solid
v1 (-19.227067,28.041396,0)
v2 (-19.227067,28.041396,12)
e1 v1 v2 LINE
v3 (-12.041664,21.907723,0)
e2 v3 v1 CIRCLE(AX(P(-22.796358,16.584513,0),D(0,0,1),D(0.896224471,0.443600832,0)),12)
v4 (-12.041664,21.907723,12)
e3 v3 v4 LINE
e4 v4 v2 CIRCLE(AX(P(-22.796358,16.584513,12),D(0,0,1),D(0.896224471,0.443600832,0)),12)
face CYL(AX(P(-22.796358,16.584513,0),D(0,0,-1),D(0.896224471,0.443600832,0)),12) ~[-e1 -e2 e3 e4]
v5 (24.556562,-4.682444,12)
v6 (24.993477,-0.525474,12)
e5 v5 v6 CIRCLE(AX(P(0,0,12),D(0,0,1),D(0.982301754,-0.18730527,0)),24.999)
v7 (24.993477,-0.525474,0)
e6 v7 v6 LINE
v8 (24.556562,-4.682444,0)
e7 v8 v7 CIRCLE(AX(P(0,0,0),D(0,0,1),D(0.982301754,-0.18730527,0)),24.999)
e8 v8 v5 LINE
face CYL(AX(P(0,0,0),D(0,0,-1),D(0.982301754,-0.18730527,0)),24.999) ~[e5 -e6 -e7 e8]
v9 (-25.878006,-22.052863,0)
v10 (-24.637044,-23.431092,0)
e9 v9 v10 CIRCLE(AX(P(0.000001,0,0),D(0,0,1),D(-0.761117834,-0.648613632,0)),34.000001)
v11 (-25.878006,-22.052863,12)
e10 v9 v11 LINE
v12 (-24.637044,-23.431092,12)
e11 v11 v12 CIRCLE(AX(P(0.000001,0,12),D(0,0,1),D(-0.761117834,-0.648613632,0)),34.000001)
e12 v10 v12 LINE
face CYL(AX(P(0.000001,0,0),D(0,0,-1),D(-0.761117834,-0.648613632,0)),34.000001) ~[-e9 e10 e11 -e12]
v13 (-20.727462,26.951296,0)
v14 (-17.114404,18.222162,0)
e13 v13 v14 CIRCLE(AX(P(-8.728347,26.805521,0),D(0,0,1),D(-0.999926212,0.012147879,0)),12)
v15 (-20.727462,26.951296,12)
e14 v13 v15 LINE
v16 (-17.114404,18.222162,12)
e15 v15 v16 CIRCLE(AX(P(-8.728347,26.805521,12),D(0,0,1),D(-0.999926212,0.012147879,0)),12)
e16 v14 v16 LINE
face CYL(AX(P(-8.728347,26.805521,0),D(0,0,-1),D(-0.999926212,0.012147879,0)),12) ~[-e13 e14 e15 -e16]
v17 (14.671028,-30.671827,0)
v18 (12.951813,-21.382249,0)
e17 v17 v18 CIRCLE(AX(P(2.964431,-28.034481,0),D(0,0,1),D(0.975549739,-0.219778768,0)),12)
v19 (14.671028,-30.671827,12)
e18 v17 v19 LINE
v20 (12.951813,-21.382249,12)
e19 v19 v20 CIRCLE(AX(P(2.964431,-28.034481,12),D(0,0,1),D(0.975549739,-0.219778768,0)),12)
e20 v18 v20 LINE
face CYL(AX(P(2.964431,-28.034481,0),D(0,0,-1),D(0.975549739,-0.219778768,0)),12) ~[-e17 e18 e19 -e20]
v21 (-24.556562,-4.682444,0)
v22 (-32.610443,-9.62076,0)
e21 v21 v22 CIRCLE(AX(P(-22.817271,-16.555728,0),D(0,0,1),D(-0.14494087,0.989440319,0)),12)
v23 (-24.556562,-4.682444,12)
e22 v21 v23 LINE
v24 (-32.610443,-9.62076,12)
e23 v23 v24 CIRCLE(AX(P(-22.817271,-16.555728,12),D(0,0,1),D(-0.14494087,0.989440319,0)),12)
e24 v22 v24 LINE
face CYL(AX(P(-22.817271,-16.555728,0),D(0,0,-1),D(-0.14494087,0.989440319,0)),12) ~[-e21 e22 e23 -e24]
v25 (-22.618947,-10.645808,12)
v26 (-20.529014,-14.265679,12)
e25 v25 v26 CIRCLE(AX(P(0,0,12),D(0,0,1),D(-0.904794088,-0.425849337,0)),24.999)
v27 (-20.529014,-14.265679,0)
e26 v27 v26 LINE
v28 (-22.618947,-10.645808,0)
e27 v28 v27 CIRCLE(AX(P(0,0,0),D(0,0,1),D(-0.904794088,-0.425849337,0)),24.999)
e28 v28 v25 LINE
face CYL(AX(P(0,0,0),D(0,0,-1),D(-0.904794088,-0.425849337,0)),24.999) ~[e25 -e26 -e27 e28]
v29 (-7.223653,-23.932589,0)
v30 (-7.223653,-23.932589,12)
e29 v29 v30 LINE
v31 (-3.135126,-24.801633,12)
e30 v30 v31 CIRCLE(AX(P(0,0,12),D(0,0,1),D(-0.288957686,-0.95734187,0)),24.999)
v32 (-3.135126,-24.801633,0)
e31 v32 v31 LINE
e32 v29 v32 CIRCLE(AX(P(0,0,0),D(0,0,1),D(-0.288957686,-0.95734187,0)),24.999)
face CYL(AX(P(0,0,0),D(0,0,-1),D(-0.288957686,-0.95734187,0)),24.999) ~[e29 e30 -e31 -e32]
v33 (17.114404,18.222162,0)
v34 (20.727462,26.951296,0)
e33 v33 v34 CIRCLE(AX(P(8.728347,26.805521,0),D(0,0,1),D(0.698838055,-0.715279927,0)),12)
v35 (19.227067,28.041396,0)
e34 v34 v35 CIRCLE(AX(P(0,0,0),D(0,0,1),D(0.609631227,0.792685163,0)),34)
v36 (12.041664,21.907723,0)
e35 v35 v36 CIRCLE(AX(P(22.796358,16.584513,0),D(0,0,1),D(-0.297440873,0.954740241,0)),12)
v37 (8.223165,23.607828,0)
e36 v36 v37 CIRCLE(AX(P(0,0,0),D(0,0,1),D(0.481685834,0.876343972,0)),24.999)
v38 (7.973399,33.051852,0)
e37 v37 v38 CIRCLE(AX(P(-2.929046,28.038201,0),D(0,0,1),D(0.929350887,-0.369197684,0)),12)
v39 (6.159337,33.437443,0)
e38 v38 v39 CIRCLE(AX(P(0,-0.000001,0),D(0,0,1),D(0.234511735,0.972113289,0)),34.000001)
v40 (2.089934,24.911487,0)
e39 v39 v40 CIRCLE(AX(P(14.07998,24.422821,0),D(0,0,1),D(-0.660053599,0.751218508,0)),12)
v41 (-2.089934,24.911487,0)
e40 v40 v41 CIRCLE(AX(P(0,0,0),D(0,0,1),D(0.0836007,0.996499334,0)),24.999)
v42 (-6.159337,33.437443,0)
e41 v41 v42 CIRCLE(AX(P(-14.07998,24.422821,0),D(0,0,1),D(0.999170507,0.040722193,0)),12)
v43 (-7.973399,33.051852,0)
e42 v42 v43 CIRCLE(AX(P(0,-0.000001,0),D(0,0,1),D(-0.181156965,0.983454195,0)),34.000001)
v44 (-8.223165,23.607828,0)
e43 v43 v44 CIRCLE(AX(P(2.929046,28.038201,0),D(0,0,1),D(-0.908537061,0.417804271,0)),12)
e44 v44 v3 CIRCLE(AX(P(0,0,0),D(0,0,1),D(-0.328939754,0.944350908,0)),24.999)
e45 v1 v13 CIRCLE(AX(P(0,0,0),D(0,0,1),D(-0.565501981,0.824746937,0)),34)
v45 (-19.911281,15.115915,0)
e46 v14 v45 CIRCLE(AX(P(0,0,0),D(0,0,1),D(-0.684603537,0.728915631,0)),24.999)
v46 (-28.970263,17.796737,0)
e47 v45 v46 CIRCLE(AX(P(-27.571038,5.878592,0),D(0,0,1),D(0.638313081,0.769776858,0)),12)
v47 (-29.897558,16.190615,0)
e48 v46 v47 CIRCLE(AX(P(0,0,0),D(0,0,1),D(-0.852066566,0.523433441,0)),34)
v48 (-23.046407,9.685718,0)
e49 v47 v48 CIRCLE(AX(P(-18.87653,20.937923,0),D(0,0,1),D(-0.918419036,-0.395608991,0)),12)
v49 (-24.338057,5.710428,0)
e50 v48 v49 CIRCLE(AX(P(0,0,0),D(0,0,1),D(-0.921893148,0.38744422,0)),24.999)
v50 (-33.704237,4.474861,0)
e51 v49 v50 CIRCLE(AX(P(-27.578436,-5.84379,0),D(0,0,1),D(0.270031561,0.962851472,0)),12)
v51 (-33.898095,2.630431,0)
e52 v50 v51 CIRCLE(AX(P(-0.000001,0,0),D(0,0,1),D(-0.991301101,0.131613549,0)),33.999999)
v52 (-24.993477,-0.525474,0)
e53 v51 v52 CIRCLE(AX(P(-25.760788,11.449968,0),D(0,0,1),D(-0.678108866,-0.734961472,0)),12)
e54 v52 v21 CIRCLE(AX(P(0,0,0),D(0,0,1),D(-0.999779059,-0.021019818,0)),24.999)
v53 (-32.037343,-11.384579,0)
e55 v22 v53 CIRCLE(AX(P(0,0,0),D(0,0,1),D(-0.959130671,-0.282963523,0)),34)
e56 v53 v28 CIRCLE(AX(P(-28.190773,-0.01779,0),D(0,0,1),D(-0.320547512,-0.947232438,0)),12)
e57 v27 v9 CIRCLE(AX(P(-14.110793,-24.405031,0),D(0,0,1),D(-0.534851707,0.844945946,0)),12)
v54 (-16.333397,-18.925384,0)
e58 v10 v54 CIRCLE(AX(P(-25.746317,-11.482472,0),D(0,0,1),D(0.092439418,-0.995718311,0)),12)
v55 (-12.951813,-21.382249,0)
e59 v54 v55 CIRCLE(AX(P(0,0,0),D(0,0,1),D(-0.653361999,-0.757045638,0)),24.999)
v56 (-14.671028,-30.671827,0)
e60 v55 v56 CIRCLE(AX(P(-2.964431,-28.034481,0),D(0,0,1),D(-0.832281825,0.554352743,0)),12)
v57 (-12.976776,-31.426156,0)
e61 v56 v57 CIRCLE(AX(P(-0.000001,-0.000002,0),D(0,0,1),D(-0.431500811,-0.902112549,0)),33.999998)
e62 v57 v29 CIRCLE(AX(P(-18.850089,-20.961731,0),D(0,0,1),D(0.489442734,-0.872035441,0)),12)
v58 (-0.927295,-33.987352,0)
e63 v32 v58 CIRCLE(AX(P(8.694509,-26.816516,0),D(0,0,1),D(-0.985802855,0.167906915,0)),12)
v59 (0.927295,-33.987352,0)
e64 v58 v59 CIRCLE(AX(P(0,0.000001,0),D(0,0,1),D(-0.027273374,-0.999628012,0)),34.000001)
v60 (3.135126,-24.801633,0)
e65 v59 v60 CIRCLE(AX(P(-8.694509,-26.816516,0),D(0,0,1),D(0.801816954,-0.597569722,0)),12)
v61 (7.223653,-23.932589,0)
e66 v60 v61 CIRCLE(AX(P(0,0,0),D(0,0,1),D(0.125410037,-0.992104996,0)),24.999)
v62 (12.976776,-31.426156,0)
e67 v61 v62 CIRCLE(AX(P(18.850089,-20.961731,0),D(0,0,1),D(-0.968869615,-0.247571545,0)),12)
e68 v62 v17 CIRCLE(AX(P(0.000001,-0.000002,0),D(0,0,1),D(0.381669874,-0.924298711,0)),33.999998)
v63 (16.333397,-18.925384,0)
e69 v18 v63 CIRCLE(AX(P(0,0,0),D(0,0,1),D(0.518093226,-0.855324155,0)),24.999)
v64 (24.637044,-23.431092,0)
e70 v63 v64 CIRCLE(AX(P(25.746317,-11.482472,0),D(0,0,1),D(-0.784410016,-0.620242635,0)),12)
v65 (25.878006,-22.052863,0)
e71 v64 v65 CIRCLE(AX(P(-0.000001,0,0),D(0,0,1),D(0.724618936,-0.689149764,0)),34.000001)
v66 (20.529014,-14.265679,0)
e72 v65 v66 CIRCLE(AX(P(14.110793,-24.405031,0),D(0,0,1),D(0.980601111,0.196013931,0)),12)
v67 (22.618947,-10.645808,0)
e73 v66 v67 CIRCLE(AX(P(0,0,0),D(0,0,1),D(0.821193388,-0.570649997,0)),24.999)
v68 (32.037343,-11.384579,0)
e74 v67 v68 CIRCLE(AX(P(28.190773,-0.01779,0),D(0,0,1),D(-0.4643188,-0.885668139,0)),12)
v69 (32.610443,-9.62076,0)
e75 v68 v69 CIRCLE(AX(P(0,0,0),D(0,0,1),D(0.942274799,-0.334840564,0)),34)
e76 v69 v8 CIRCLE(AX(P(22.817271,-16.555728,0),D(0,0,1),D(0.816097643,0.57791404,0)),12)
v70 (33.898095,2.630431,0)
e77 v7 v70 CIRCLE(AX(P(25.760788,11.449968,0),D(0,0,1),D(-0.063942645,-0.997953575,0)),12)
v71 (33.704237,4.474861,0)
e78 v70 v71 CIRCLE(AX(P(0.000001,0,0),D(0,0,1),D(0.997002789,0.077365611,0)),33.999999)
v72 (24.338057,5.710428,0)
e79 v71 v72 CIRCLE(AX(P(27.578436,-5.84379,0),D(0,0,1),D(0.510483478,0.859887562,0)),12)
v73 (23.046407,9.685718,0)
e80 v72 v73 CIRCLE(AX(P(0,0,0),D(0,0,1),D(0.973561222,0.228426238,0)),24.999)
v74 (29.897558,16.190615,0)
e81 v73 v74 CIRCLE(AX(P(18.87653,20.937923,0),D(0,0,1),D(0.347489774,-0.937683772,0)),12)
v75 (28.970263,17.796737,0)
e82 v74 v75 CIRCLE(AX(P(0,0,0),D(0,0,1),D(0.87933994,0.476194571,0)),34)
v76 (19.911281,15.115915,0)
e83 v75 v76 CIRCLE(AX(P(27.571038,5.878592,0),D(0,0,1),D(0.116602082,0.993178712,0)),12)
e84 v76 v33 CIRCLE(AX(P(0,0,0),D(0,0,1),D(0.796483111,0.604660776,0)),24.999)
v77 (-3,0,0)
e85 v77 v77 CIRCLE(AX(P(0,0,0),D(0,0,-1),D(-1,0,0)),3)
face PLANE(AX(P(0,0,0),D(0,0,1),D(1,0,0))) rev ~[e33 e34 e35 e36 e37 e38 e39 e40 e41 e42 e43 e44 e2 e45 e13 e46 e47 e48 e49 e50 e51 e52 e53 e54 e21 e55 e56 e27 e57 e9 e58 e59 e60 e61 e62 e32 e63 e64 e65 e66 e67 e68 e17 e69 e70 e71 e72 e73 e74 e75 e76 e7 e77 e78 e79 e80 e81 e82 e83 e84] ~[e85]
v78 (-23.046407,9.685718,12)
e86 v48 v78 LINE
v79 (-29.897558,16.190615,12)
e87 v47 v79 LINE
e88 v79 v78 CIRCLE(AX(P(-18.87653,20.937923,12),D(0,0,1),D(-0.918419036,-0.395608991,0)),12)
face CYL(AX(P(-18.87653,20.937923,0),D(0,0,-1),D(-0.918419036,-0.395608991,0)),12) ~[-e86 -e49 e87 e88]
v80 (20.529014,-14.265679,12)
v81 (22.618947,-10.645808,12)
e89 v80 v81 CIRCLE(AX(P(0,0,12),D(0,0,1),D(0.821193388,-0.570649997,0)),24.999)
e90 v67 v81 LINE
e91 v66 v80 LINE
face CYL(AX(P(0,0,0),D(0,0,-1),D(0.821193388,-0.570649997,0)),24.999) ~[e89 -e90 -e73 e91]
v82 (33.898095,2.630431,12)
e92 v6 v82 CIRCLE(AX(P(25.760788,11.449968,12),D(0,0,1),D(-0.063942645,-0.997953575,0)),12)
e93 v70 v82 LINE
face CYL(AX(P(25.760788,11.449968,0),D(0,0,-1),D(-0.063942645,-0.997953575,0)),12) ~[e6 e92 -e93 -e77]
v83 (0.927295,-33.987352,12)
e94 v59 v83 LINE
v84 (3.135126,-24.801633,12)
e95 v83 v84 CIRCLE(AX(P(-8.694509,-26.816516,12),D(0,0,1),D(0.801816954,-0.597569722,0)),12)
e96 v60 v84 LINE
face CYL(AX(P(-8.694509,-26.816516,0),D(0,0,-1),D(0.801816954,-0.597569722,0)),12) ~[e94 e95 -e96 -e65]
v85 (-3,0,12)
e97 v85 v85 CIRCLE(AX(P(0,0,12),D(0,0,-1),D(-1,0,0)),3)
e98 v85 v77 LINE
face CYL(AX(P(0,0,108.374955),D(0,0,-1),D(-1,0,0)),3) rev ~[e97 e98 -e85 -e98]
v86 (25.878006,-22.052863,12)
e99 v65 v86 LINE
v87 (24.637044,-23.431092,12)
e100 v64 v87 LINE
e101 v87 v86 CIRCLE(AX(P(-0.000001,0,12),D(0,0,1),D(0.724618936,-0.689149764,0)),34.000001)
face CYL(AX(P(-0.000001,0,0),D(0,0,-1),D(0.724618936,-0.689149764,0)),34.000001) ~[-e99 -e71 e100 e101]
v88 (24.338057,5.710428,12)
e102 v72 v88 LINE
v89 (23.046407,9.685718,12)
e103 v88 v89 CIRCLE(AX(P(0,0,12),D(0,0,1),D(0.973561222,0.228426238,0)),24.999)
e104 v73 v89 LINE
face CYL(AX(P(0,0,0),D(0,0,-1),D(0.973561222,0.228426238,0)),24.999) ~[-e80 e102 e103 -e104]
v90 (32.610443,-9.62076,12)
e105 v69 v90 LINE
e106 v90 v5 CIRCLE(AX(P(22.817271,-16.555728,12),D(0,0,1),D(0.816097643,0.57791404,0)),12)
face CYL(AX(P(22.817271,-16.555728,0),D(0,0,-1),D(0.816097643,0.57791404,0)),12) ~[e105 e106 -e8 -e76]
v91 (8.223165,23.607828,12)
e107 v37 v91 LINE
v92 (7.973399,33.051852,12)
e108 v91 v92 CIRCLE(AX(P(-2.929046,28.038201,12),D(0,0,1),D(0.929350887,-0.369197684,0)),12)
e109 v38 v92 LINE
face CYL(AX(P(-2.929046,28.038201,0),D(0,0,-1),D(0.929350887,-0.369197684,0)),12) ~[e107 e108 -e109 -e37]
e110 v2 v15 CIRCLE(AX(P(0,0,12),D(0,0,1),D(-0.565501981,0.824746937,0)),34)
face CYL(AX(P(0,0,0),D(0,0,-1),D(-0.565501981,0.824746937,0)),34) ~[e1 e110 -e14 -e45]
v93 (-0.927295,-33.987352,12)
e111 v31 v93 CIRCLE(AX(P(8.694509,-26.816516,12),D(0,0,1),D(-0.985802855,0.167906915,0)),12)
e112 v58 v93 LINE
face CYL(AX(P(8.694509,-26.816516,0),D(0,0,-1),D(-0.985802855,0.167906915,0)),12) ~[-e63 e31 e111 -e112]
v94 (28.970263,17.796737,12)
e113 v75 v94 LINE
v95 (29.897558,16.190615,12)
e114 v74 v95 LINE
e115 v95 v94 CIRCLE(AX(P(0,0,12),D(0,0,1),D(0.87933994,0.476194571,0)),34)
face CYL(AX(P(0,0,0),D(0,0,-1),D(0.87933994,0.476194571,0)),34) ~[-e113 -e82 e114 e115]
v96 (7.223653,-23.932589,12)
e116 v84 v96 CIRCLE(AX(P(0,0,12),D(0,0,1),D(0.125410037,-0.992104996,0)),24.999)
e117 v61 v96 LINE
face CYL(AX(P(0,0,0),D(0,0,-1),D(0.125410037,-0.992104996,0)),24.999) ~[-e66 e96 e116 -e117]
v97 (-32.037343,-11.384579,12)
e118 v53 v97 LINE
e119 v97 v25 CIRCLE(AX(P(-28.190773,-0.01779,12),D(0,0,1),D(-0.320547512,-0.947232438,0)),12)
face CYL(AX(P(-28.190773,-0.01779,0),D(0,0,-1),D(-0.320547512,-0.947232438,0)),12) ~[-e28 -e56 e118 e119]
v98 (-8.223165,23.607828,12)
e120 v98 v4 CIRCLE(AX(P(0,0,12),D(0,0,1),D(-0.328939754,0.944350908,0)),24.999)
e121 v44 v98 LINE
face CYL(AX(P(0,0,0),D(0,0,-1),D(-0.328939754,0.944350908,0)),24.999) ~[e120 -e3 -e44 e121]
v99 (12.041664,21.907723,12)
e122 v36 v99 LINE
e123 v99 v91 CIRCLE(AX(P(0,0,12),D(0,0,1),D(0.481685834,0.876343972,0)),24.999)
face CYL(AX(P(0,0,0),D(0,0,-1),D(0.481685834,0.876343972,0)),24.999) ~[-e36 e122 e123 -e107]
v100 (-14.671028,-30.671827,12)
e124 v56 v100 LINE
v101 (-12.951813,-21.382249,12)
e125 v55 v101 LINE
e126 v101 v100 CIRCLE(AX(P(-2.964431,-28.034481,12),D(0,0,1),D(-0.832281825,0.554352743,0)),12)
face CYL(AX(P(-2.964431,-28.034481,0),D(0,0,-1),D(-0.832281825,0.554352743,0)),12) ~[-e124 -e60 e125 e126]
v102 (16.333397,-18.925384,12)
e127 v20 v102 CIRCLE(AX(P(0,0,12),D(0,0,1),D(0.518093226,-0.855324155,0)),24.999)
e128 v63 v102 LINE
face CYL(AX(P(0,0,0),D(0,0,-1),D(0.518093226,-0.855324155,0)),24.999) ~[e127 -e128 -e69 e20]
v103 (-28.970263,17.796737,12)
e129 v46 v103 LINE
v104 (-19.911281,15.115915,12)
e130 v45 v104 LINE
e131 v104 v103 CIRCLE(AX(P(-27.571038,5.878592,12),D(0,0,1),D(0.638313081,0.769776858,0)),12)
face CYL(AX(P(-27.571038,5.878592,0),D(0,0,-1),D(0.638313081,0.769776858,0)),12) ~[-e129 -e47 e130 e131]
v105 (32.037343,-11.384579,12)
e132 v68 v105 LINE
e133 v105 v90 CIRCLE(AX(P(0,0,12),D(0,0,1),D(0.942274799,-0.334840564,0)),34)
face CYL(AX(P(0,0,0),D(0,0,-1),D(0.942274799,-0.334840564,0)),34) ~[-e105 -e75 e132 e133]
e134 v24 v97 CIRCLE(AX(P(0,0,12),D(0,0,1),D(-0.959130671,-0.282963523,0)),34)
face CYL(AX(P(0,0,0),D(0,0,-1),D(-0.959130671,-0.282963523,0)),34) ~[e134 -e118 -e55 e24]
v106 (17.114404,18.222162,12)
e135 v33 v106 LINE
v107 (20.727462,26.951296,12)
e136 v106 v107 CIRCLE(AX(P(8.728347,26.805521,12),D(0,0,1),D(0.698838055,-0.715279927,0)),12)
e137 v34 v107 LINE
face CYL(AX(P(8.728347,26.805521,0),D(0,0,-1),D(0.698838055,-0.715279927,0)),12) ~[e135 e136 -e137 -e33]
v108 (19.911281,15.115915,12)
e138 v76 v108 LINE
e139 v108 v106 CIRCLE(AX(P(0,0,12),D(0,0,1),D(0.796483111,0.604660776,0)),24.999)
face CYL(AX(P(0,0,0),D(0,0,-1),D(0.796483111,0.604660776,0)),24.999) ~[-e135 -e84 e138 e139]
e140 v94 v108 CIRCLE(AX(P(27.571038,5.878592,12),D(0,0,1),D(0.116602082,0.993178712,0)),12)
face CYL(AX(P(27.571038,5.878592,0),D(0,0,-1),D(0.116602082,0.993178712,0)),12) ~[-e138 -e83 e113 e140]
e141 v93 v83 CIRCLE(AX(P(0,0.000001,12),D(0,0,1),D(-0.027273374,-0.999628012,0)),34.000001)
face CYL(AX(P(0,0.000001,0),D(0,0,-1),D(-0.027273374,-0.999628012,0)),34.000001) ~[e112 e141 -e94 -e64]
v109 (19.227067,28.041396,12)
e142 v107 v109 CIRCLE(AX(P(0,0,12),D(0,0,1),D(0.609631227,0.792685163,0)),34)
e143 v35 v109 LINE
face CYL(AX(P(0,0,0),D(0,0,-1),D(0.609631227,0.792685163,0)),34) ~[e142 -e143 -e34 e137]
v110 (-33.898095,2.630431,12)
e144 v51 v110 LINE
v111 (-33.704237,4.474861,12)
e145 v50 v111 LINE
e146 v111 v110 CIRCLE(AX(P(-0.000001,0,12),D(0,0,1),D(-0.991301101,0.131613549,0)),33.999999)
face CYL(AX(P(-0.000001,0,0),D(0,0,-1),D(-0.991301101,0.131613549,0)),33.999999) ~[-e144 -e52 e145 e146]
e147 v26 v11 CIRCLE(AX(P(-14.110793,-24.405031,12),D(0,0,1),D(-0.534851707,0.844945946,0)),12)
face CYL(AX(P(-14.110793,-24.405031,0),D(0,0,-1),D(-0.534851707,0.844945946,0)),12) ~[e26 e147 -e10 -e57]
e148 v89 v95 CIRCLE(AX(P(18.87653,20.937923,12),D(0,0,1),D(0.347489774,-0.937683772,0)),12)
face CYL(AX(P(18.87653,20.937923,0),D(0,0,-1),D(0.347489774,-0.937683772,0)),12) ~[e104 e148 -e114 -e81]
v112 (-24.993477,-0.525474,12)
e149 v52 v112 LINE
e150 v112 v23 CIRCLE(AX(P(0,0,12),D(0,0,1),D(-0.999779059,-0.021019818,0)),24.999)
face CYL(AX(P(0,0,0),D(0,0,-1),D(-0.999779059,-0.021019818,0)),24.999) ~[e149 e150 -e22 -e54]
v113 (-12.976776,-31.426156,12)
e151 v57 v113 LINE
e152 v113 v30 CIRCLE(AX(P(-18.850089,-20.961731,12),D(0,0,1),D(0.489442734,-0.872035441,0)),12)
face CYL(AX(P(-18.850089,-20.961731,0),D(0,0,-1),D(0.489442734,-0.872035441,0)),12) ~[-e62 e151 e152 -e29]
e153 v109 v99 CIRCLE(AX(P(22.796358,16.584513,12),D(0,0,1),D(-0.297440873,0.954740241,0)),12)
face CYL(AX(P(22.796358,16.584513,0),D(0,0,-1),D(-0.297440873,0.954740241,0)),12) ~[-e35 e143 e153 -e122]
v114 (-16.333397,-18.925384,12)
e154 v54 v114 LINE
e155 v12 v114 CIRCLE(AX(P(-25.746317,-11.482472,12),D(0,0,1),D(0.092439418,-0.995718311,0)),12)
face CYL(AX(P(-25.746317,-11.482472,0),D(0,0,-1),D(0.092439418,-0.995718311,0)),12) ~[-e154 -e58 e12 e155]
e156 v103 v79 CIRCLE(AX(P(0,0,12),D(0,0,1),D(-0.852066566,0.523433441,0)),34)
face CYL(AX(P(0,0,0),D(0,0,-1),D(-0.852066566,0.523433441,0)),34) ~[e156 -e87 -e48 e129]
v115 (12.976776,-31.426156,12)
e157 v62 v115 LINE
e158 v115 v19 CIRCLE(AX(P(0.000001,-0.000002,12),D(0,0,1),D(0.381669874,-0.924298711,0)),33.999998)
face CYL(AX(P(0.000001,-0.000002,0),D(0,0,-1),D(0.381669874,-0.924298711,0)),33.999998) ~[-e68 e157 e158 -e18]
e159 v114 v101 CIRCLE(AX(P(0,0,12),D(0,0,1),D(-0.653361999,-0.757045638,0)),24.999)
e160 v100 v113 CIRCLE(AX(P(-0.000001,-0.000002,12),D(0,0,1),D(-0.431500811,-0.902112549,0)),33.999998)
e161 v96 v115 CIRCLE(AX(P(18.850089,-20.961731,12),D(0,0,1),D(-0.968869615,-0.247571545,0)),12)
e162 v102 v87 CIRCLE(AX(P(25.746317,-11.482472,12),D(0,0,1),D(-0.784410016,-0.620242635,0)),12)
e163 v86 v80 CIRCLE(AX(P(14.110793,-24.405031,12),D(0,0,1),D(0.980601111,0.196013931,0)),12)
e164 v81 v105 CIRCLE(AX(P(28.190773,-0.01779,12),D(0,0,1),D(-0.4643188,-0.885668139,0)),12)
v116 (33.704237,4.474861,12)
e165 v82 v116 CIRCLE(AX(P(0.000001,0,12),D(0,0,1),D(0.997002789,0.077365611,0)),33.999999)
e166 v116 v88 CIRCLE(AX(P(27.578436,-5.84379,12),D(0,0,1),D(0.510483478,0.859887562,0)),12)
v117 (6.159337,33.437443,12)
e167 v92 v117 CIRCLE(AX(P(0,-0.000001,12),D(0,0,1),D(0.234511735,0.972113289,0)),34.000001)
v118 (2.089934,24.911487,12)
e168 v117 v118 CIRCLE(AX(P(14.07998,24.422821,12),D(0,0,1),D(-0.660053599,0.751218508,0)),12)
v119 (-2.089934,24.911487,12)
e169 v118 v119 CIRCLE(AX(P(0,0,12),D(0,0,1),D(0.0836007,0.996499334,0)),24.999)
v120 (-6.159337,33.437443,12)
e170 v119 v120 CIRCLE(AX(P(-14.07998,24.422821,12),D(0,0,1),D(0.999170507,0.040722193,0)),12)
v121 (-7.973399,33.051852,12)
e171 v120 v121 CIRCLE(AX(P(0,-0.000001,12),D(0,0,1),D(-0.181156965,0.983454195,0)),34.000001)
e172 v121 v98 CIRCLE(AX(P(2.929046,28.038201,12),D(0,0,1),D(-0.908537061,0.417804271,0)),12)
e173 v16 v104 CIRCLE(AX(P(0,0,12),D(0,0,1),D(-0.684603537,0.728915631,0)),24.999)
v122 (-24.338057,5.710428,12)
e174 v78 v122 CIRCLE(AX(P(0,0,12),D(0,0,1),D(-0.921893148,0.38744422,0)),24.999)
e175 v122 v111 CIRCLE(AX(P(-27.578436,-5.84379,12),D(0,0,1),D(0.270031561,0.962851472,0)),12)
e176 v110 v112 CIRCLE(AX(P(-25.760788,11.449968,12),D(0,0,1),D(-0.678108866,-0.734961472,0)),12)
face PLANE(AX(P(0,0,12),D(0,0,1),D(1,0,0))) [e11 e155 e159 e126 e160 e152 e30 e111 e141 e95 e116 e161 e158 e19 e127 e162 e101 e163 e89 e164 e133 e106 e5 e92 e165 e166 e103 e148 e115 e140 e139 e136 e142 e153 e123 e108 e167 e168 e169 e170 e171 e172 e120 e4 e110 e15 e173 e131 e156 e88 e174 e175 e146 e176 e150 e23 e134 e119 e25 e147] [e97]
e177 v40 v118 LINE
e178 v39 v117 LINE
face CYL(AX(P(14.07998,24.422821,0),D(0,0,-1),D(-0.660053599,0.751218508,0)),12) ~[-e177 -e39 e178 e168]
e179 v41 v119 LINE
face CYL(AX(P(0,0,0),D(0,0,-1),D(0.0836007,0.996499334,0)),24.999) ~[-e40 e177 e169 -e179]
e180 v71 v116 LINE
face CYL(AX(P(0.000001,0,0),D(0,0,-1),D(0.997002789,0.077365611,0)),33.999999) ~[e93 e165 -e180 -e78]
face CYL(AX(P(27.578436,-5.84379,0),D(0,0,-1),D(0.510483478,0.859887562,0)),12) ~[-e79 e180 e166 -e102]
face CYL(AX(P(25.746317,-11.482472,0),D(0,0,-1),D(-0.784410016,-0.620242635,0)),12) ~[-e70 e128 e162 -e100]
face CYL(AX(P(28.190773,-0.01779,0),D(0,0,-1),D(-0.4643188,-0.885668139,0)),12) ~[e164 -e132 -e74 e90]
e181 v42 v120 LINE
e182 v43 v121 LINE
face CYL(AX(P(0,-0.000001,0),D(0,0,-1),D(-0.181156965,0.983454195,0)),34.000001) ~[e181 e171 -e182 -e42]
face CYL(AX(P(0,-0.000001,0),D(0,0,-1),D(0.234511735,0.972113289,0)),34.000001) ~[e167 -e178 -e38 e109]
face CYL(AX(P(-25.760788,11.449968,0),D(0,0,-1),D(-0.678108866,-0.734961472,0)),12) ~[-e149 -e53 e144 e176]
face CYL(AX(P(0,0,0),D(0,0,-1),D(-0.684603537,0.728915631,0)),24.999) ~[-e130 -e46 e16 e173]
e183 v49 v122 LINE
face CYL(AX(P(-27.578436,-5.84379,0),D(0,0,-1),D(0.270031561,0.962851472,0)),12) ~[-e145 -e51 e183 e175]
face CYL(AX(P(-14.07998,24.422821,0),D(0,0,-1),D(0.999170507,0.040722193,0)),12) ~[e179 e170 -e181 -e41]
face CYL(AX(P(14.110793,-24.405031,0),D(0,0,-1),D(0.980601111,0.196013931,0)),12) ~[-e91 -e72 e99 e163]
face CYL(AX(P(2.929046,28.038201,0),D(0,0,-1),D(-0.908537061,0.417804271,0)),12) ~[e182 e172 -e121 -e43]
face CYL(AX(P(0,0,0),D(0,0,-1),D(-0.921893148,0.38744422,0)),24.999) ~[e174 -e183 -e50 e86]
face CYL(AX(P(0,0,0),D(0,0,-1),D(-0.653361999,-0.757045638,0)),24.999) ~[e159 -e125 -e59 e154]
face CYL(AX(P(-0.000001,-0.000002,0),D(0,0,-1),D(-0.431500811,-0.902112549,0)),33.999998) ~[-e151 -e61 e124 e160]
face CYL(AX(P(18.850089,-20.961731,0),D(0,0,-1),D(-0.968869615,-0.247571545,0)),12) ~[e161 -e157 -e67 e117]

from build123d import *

# Parameters (mm, degrees)
DODANIE_WYCI_GNI_CIE1_DEPTH = 12
OTW_R_6_0_6_1_D             = 6


with BuildPart() as part:
    # Szkic1 → Dodanie-wyciągnięcie1 (new body)
    with BuildSketch(Plane.XY):
        with BuildLine():
            ThreePointArc((-33.898094839, 2.630430818), (-29.769421597, 0.139315972), (-24.993476702, -0.525474417))
            ThreePointArc((-24.993476702, -0.525474417), (-24.862052862, -2.613107053), (-24.556561544, -4.68244446))
            ThreePointArc((-24.556561544, -4.68244446), (-29.089922891, -6.325682363), (-32.610442817, -9.620759807))
            ThreePointArc((-32.610442817, -9.620759807), (-32.335921554, -10.506577809), (-32.037343164, -11.384579176))
            ThreePointArc((-32.037343164, -11.384579176), (-27.252384788, -11.981043133), (-22.618947411, -10.645807579))
            ThreePointArc((-22.618947411, -10.645807579), (-21.649769069, -12.4995), (-20.529013513, -14.265679275))
            ThreePointArc((-20.529013513, -14.265679275), (-24.002080111, -17.610735974), (-25.87800636, -22.052863461))
            ThreePointArc((-25.87800636, -22.052863461), (-25.266924066, -22.750440616), (-24.637043805, -23.431092005))
            ThreePointArc((-24.637043805, -23.431092005), (-20.023163068, -22.029771036), (-16.333396627, -18.925383897))
            ThreePointArc((-16.333396627, -18.925383897), (-14.694043522, -20.224615842), (-12.951812545, -21.382248544))
            ThreePointArc((-12.951812545, -21.382248544), (-14.764059627, -25.850733346), (-14.671027508, -30.671826679))
            ThreePointArc((-14.671027508, -30.671826679), (-13.829045865, -31.06054556), (-12.976775752, -31.426156161))
            ThreePointArc((-12.976775752, -31.426156161), (-9.33175455, -28.269351393), (-7.223653181, -23.932589407))
            ThreePointArc((-7.223653181, -23.932589407), (-5.197584359, -24.452711871), (-3.135125524, -24.801632788))
            ThreePointArc((-3.135125524, -24.801632788), (-2.973199107, -29.620904076), (-0.927294719, -33.98735242))
            ThreePointArc((-0.927294719, -33.98735242), (0, -34), (0.927294719, -33.98735242))
            ThreePointArc((0.927294719, -33.98735242), (2.973199107, -29.620904076), (3.135125524, -24.801632788))
            ThreePointArc((3.135125524, -24.801632788), (5.197584359, -24.452711871), (7.223653181, -23.932589407))
            ThreePointArc((7.223653181, -23.932589407), (9.33175455, -28.269351393), (12.976775752, -31.426156161))
            ThreePointArc((12.976775752, -31.426156161), (13.829045865, -31.06054556), (14.671027508, -30.671826679))
            ThreePointArc((14.671027508, -30.671826679), (14.764059627, -25.850733346), (12.951812545, -21.382248544))
            ThreePointArc((12.951812545, -21.382248544), (14.694043522, -20.224615842), (16.333396627, -18.925383897))
            ThreePointArc((16.333396627, -18.925383897), (20.023163068, -22.029771036), (24.637043805, -23.431092005))
            ThreePointArc((24.637043805, -23.431092005), (25.266924066, -22.750440616), (25.87800636, -22.052863461))
            ThreePointArc((25.87800636, -22.052863461), (24.002080111, -17.610735974), (20.529013513, -14.265679275))
            ThreePointArc((20.529013513, -14.265679275), (21.649769069, -12.4995), (22.618947411, -10.645807579))
            ThreePointArc((22.618947411, -10.645807579), (27.252384788, -11.981043133), (32.037343164, -11.384579176))
            ThreePointArc((32.037343164, -11.384579176), (32.335921554, -10.506577809), (32.610442817, -9.620759807))
            ThreePointArc((32.610442817, -9.620759807), (29.089922891, -6.325682363), (24.556561544, -4.68244446))
            ThreePointArc((24.556561544, -4.68244446), (24.862052862, -2.613107053), (24.993476702, -0.525474417))
            ThreePointArc((24.993476702, -0.525474417), (29.769421597, 0.139315972), (33.898094839, 2.630430818))
            ThreePointArc((33.898094839, 2.630430818), (33.813744443, 3.553967751), (33.704237455, 4.47486062))
            ThreePointArc((33.704237455, 4.47486062), (29.14785373, 6.053139195), (24.338056995, 5.71042754))
            ThreePointArc((24.338056995, 5.71042754), (23.775461851, 7.725115842), (23.046406812, 9.685718046))
            ThreePointArc((23.046406812, 9.685718046), (27.139054966, 12.235586081), (29.897557962, 16.190615427))
            ThreePointArc((29.897557962, 16.190615427), (29.444863729, 17), (28.970263244, 17.796736993))
            ThreePointArc((28.970263244, 17.796736993), (24.165855859, 17.385317995), (19.911281288, 15.115914742))
            ThreePointArc((19.911281288, 15.115914742), (18.577877492, 16.727596028), (17.114403814, 18.222161866))
            ThreePointArc((17.114403814, 18.222161866), (19.81609918, 22.216212199), (20.727461703, 26.951295541))
            ThreePointArc((20.727461703, 26.951295541), (19.984698578, 27.506577809), (19.227067331, 28.041395862))
            ThreePointArc((19.227067331, 28.041395862), (15.00536197, 25.711417373), (12.041664157, 21.907722961))
            ThreePointArc((12.041664157, 21.907722961), (10.16800934, 22.837722896), (8.223164918, 23.607828357))
            ThreePointArc((8.223164918, 23.607828357), (9.066759823, 28.3554534), (7.973399012, 33.051851812))
            ThreePointArc((7.973399012, 33.051851812), (7.068997488, 33.257018425), (6.159336804, 33.437442638))
            ThreePointArc((6.159336804, 33.437442638), (3.250304677, 29.591779107), (2.089933898, 24.911486854))
            ThreePointArc((2.089933898, 24.911486854), (0, 24.999), (-2.089933898, 24.911486854))
            ThreePointArc((-2.089933898, 24.911486854), (-3.250304677, 29.591779107), (-6.159336804, 33.437442638))
            ThreePointArc((-6.159336804, 33.437442638), (-7.068997488, 33.257018425), (-7.973399012, 33.051851812))
            ThreePointArc((-7.973399012, 33.051851812), (-9.066759823, 28.3554534), (-8.223164918, 23.607828357))
            ThreePointArc((-8.223164918, 23.607828357), (-10.16800934, 22.837722896), (-12.041664157, 21.907722961))
            ThreePointArc((-12.041664157, 21.907722961), (-15.00536197, 25.711417373), (-19.227067331, 28.041395862))
            ThreePointArc((-19.227067331, 28.041395862), (-19.984698578, 27.506577809), (-20.727461703, 26.951295541))
            ThreePointArc((-20.727461703, 26.951295541), (-19.81609918, 22.216212199), (-17.114403814, 18.222161866))
            ThreePointArc((-17.114403814, 18.222161866), (-18.577877492, 16.727596028), (-19.911281288, 15.115914742))
            ThreePointArc((-19.911281288, 15.115914742), (-24.165855859, 17.385317995), (-28.970263244, 17.796736993))
            ThreePointArc((-28.970263244, 17.796736993), (-29.444863729, 17), (-29.897557962, 16.190615427))
            ThreePointArc((-29.897557962, 16.190615427), (-27.139054966, 12.235586081), (-23.046406812, 9.685718046))
            ThreePointArc((-23.046406812, 9.685718046), (-23.775461851, 7.725115842), (-24.338056995, 5.71042754))
            ThreePointArc((-24.338056995, 5.71042754), (-29.14785373, 6.053139195), (-33.704237455, 4.47486062))
            ThreePointArc((-33.704237455, 4.47486062), (-33.813744443, 3.553967751), (-33.898094839, 2.630430818))
        make_face()
    extrude(amount=DODANIE_WYCI_GNI_CIE1_DEPTH)

    # Otwór Ø6.0 (6)1 (through all)
    with Locations(Plane.XY.offset(12)):
        with Locations((0, 0)):
            Hole(OTW_R_6_0_6_1_D / 2)


solid = part.part
